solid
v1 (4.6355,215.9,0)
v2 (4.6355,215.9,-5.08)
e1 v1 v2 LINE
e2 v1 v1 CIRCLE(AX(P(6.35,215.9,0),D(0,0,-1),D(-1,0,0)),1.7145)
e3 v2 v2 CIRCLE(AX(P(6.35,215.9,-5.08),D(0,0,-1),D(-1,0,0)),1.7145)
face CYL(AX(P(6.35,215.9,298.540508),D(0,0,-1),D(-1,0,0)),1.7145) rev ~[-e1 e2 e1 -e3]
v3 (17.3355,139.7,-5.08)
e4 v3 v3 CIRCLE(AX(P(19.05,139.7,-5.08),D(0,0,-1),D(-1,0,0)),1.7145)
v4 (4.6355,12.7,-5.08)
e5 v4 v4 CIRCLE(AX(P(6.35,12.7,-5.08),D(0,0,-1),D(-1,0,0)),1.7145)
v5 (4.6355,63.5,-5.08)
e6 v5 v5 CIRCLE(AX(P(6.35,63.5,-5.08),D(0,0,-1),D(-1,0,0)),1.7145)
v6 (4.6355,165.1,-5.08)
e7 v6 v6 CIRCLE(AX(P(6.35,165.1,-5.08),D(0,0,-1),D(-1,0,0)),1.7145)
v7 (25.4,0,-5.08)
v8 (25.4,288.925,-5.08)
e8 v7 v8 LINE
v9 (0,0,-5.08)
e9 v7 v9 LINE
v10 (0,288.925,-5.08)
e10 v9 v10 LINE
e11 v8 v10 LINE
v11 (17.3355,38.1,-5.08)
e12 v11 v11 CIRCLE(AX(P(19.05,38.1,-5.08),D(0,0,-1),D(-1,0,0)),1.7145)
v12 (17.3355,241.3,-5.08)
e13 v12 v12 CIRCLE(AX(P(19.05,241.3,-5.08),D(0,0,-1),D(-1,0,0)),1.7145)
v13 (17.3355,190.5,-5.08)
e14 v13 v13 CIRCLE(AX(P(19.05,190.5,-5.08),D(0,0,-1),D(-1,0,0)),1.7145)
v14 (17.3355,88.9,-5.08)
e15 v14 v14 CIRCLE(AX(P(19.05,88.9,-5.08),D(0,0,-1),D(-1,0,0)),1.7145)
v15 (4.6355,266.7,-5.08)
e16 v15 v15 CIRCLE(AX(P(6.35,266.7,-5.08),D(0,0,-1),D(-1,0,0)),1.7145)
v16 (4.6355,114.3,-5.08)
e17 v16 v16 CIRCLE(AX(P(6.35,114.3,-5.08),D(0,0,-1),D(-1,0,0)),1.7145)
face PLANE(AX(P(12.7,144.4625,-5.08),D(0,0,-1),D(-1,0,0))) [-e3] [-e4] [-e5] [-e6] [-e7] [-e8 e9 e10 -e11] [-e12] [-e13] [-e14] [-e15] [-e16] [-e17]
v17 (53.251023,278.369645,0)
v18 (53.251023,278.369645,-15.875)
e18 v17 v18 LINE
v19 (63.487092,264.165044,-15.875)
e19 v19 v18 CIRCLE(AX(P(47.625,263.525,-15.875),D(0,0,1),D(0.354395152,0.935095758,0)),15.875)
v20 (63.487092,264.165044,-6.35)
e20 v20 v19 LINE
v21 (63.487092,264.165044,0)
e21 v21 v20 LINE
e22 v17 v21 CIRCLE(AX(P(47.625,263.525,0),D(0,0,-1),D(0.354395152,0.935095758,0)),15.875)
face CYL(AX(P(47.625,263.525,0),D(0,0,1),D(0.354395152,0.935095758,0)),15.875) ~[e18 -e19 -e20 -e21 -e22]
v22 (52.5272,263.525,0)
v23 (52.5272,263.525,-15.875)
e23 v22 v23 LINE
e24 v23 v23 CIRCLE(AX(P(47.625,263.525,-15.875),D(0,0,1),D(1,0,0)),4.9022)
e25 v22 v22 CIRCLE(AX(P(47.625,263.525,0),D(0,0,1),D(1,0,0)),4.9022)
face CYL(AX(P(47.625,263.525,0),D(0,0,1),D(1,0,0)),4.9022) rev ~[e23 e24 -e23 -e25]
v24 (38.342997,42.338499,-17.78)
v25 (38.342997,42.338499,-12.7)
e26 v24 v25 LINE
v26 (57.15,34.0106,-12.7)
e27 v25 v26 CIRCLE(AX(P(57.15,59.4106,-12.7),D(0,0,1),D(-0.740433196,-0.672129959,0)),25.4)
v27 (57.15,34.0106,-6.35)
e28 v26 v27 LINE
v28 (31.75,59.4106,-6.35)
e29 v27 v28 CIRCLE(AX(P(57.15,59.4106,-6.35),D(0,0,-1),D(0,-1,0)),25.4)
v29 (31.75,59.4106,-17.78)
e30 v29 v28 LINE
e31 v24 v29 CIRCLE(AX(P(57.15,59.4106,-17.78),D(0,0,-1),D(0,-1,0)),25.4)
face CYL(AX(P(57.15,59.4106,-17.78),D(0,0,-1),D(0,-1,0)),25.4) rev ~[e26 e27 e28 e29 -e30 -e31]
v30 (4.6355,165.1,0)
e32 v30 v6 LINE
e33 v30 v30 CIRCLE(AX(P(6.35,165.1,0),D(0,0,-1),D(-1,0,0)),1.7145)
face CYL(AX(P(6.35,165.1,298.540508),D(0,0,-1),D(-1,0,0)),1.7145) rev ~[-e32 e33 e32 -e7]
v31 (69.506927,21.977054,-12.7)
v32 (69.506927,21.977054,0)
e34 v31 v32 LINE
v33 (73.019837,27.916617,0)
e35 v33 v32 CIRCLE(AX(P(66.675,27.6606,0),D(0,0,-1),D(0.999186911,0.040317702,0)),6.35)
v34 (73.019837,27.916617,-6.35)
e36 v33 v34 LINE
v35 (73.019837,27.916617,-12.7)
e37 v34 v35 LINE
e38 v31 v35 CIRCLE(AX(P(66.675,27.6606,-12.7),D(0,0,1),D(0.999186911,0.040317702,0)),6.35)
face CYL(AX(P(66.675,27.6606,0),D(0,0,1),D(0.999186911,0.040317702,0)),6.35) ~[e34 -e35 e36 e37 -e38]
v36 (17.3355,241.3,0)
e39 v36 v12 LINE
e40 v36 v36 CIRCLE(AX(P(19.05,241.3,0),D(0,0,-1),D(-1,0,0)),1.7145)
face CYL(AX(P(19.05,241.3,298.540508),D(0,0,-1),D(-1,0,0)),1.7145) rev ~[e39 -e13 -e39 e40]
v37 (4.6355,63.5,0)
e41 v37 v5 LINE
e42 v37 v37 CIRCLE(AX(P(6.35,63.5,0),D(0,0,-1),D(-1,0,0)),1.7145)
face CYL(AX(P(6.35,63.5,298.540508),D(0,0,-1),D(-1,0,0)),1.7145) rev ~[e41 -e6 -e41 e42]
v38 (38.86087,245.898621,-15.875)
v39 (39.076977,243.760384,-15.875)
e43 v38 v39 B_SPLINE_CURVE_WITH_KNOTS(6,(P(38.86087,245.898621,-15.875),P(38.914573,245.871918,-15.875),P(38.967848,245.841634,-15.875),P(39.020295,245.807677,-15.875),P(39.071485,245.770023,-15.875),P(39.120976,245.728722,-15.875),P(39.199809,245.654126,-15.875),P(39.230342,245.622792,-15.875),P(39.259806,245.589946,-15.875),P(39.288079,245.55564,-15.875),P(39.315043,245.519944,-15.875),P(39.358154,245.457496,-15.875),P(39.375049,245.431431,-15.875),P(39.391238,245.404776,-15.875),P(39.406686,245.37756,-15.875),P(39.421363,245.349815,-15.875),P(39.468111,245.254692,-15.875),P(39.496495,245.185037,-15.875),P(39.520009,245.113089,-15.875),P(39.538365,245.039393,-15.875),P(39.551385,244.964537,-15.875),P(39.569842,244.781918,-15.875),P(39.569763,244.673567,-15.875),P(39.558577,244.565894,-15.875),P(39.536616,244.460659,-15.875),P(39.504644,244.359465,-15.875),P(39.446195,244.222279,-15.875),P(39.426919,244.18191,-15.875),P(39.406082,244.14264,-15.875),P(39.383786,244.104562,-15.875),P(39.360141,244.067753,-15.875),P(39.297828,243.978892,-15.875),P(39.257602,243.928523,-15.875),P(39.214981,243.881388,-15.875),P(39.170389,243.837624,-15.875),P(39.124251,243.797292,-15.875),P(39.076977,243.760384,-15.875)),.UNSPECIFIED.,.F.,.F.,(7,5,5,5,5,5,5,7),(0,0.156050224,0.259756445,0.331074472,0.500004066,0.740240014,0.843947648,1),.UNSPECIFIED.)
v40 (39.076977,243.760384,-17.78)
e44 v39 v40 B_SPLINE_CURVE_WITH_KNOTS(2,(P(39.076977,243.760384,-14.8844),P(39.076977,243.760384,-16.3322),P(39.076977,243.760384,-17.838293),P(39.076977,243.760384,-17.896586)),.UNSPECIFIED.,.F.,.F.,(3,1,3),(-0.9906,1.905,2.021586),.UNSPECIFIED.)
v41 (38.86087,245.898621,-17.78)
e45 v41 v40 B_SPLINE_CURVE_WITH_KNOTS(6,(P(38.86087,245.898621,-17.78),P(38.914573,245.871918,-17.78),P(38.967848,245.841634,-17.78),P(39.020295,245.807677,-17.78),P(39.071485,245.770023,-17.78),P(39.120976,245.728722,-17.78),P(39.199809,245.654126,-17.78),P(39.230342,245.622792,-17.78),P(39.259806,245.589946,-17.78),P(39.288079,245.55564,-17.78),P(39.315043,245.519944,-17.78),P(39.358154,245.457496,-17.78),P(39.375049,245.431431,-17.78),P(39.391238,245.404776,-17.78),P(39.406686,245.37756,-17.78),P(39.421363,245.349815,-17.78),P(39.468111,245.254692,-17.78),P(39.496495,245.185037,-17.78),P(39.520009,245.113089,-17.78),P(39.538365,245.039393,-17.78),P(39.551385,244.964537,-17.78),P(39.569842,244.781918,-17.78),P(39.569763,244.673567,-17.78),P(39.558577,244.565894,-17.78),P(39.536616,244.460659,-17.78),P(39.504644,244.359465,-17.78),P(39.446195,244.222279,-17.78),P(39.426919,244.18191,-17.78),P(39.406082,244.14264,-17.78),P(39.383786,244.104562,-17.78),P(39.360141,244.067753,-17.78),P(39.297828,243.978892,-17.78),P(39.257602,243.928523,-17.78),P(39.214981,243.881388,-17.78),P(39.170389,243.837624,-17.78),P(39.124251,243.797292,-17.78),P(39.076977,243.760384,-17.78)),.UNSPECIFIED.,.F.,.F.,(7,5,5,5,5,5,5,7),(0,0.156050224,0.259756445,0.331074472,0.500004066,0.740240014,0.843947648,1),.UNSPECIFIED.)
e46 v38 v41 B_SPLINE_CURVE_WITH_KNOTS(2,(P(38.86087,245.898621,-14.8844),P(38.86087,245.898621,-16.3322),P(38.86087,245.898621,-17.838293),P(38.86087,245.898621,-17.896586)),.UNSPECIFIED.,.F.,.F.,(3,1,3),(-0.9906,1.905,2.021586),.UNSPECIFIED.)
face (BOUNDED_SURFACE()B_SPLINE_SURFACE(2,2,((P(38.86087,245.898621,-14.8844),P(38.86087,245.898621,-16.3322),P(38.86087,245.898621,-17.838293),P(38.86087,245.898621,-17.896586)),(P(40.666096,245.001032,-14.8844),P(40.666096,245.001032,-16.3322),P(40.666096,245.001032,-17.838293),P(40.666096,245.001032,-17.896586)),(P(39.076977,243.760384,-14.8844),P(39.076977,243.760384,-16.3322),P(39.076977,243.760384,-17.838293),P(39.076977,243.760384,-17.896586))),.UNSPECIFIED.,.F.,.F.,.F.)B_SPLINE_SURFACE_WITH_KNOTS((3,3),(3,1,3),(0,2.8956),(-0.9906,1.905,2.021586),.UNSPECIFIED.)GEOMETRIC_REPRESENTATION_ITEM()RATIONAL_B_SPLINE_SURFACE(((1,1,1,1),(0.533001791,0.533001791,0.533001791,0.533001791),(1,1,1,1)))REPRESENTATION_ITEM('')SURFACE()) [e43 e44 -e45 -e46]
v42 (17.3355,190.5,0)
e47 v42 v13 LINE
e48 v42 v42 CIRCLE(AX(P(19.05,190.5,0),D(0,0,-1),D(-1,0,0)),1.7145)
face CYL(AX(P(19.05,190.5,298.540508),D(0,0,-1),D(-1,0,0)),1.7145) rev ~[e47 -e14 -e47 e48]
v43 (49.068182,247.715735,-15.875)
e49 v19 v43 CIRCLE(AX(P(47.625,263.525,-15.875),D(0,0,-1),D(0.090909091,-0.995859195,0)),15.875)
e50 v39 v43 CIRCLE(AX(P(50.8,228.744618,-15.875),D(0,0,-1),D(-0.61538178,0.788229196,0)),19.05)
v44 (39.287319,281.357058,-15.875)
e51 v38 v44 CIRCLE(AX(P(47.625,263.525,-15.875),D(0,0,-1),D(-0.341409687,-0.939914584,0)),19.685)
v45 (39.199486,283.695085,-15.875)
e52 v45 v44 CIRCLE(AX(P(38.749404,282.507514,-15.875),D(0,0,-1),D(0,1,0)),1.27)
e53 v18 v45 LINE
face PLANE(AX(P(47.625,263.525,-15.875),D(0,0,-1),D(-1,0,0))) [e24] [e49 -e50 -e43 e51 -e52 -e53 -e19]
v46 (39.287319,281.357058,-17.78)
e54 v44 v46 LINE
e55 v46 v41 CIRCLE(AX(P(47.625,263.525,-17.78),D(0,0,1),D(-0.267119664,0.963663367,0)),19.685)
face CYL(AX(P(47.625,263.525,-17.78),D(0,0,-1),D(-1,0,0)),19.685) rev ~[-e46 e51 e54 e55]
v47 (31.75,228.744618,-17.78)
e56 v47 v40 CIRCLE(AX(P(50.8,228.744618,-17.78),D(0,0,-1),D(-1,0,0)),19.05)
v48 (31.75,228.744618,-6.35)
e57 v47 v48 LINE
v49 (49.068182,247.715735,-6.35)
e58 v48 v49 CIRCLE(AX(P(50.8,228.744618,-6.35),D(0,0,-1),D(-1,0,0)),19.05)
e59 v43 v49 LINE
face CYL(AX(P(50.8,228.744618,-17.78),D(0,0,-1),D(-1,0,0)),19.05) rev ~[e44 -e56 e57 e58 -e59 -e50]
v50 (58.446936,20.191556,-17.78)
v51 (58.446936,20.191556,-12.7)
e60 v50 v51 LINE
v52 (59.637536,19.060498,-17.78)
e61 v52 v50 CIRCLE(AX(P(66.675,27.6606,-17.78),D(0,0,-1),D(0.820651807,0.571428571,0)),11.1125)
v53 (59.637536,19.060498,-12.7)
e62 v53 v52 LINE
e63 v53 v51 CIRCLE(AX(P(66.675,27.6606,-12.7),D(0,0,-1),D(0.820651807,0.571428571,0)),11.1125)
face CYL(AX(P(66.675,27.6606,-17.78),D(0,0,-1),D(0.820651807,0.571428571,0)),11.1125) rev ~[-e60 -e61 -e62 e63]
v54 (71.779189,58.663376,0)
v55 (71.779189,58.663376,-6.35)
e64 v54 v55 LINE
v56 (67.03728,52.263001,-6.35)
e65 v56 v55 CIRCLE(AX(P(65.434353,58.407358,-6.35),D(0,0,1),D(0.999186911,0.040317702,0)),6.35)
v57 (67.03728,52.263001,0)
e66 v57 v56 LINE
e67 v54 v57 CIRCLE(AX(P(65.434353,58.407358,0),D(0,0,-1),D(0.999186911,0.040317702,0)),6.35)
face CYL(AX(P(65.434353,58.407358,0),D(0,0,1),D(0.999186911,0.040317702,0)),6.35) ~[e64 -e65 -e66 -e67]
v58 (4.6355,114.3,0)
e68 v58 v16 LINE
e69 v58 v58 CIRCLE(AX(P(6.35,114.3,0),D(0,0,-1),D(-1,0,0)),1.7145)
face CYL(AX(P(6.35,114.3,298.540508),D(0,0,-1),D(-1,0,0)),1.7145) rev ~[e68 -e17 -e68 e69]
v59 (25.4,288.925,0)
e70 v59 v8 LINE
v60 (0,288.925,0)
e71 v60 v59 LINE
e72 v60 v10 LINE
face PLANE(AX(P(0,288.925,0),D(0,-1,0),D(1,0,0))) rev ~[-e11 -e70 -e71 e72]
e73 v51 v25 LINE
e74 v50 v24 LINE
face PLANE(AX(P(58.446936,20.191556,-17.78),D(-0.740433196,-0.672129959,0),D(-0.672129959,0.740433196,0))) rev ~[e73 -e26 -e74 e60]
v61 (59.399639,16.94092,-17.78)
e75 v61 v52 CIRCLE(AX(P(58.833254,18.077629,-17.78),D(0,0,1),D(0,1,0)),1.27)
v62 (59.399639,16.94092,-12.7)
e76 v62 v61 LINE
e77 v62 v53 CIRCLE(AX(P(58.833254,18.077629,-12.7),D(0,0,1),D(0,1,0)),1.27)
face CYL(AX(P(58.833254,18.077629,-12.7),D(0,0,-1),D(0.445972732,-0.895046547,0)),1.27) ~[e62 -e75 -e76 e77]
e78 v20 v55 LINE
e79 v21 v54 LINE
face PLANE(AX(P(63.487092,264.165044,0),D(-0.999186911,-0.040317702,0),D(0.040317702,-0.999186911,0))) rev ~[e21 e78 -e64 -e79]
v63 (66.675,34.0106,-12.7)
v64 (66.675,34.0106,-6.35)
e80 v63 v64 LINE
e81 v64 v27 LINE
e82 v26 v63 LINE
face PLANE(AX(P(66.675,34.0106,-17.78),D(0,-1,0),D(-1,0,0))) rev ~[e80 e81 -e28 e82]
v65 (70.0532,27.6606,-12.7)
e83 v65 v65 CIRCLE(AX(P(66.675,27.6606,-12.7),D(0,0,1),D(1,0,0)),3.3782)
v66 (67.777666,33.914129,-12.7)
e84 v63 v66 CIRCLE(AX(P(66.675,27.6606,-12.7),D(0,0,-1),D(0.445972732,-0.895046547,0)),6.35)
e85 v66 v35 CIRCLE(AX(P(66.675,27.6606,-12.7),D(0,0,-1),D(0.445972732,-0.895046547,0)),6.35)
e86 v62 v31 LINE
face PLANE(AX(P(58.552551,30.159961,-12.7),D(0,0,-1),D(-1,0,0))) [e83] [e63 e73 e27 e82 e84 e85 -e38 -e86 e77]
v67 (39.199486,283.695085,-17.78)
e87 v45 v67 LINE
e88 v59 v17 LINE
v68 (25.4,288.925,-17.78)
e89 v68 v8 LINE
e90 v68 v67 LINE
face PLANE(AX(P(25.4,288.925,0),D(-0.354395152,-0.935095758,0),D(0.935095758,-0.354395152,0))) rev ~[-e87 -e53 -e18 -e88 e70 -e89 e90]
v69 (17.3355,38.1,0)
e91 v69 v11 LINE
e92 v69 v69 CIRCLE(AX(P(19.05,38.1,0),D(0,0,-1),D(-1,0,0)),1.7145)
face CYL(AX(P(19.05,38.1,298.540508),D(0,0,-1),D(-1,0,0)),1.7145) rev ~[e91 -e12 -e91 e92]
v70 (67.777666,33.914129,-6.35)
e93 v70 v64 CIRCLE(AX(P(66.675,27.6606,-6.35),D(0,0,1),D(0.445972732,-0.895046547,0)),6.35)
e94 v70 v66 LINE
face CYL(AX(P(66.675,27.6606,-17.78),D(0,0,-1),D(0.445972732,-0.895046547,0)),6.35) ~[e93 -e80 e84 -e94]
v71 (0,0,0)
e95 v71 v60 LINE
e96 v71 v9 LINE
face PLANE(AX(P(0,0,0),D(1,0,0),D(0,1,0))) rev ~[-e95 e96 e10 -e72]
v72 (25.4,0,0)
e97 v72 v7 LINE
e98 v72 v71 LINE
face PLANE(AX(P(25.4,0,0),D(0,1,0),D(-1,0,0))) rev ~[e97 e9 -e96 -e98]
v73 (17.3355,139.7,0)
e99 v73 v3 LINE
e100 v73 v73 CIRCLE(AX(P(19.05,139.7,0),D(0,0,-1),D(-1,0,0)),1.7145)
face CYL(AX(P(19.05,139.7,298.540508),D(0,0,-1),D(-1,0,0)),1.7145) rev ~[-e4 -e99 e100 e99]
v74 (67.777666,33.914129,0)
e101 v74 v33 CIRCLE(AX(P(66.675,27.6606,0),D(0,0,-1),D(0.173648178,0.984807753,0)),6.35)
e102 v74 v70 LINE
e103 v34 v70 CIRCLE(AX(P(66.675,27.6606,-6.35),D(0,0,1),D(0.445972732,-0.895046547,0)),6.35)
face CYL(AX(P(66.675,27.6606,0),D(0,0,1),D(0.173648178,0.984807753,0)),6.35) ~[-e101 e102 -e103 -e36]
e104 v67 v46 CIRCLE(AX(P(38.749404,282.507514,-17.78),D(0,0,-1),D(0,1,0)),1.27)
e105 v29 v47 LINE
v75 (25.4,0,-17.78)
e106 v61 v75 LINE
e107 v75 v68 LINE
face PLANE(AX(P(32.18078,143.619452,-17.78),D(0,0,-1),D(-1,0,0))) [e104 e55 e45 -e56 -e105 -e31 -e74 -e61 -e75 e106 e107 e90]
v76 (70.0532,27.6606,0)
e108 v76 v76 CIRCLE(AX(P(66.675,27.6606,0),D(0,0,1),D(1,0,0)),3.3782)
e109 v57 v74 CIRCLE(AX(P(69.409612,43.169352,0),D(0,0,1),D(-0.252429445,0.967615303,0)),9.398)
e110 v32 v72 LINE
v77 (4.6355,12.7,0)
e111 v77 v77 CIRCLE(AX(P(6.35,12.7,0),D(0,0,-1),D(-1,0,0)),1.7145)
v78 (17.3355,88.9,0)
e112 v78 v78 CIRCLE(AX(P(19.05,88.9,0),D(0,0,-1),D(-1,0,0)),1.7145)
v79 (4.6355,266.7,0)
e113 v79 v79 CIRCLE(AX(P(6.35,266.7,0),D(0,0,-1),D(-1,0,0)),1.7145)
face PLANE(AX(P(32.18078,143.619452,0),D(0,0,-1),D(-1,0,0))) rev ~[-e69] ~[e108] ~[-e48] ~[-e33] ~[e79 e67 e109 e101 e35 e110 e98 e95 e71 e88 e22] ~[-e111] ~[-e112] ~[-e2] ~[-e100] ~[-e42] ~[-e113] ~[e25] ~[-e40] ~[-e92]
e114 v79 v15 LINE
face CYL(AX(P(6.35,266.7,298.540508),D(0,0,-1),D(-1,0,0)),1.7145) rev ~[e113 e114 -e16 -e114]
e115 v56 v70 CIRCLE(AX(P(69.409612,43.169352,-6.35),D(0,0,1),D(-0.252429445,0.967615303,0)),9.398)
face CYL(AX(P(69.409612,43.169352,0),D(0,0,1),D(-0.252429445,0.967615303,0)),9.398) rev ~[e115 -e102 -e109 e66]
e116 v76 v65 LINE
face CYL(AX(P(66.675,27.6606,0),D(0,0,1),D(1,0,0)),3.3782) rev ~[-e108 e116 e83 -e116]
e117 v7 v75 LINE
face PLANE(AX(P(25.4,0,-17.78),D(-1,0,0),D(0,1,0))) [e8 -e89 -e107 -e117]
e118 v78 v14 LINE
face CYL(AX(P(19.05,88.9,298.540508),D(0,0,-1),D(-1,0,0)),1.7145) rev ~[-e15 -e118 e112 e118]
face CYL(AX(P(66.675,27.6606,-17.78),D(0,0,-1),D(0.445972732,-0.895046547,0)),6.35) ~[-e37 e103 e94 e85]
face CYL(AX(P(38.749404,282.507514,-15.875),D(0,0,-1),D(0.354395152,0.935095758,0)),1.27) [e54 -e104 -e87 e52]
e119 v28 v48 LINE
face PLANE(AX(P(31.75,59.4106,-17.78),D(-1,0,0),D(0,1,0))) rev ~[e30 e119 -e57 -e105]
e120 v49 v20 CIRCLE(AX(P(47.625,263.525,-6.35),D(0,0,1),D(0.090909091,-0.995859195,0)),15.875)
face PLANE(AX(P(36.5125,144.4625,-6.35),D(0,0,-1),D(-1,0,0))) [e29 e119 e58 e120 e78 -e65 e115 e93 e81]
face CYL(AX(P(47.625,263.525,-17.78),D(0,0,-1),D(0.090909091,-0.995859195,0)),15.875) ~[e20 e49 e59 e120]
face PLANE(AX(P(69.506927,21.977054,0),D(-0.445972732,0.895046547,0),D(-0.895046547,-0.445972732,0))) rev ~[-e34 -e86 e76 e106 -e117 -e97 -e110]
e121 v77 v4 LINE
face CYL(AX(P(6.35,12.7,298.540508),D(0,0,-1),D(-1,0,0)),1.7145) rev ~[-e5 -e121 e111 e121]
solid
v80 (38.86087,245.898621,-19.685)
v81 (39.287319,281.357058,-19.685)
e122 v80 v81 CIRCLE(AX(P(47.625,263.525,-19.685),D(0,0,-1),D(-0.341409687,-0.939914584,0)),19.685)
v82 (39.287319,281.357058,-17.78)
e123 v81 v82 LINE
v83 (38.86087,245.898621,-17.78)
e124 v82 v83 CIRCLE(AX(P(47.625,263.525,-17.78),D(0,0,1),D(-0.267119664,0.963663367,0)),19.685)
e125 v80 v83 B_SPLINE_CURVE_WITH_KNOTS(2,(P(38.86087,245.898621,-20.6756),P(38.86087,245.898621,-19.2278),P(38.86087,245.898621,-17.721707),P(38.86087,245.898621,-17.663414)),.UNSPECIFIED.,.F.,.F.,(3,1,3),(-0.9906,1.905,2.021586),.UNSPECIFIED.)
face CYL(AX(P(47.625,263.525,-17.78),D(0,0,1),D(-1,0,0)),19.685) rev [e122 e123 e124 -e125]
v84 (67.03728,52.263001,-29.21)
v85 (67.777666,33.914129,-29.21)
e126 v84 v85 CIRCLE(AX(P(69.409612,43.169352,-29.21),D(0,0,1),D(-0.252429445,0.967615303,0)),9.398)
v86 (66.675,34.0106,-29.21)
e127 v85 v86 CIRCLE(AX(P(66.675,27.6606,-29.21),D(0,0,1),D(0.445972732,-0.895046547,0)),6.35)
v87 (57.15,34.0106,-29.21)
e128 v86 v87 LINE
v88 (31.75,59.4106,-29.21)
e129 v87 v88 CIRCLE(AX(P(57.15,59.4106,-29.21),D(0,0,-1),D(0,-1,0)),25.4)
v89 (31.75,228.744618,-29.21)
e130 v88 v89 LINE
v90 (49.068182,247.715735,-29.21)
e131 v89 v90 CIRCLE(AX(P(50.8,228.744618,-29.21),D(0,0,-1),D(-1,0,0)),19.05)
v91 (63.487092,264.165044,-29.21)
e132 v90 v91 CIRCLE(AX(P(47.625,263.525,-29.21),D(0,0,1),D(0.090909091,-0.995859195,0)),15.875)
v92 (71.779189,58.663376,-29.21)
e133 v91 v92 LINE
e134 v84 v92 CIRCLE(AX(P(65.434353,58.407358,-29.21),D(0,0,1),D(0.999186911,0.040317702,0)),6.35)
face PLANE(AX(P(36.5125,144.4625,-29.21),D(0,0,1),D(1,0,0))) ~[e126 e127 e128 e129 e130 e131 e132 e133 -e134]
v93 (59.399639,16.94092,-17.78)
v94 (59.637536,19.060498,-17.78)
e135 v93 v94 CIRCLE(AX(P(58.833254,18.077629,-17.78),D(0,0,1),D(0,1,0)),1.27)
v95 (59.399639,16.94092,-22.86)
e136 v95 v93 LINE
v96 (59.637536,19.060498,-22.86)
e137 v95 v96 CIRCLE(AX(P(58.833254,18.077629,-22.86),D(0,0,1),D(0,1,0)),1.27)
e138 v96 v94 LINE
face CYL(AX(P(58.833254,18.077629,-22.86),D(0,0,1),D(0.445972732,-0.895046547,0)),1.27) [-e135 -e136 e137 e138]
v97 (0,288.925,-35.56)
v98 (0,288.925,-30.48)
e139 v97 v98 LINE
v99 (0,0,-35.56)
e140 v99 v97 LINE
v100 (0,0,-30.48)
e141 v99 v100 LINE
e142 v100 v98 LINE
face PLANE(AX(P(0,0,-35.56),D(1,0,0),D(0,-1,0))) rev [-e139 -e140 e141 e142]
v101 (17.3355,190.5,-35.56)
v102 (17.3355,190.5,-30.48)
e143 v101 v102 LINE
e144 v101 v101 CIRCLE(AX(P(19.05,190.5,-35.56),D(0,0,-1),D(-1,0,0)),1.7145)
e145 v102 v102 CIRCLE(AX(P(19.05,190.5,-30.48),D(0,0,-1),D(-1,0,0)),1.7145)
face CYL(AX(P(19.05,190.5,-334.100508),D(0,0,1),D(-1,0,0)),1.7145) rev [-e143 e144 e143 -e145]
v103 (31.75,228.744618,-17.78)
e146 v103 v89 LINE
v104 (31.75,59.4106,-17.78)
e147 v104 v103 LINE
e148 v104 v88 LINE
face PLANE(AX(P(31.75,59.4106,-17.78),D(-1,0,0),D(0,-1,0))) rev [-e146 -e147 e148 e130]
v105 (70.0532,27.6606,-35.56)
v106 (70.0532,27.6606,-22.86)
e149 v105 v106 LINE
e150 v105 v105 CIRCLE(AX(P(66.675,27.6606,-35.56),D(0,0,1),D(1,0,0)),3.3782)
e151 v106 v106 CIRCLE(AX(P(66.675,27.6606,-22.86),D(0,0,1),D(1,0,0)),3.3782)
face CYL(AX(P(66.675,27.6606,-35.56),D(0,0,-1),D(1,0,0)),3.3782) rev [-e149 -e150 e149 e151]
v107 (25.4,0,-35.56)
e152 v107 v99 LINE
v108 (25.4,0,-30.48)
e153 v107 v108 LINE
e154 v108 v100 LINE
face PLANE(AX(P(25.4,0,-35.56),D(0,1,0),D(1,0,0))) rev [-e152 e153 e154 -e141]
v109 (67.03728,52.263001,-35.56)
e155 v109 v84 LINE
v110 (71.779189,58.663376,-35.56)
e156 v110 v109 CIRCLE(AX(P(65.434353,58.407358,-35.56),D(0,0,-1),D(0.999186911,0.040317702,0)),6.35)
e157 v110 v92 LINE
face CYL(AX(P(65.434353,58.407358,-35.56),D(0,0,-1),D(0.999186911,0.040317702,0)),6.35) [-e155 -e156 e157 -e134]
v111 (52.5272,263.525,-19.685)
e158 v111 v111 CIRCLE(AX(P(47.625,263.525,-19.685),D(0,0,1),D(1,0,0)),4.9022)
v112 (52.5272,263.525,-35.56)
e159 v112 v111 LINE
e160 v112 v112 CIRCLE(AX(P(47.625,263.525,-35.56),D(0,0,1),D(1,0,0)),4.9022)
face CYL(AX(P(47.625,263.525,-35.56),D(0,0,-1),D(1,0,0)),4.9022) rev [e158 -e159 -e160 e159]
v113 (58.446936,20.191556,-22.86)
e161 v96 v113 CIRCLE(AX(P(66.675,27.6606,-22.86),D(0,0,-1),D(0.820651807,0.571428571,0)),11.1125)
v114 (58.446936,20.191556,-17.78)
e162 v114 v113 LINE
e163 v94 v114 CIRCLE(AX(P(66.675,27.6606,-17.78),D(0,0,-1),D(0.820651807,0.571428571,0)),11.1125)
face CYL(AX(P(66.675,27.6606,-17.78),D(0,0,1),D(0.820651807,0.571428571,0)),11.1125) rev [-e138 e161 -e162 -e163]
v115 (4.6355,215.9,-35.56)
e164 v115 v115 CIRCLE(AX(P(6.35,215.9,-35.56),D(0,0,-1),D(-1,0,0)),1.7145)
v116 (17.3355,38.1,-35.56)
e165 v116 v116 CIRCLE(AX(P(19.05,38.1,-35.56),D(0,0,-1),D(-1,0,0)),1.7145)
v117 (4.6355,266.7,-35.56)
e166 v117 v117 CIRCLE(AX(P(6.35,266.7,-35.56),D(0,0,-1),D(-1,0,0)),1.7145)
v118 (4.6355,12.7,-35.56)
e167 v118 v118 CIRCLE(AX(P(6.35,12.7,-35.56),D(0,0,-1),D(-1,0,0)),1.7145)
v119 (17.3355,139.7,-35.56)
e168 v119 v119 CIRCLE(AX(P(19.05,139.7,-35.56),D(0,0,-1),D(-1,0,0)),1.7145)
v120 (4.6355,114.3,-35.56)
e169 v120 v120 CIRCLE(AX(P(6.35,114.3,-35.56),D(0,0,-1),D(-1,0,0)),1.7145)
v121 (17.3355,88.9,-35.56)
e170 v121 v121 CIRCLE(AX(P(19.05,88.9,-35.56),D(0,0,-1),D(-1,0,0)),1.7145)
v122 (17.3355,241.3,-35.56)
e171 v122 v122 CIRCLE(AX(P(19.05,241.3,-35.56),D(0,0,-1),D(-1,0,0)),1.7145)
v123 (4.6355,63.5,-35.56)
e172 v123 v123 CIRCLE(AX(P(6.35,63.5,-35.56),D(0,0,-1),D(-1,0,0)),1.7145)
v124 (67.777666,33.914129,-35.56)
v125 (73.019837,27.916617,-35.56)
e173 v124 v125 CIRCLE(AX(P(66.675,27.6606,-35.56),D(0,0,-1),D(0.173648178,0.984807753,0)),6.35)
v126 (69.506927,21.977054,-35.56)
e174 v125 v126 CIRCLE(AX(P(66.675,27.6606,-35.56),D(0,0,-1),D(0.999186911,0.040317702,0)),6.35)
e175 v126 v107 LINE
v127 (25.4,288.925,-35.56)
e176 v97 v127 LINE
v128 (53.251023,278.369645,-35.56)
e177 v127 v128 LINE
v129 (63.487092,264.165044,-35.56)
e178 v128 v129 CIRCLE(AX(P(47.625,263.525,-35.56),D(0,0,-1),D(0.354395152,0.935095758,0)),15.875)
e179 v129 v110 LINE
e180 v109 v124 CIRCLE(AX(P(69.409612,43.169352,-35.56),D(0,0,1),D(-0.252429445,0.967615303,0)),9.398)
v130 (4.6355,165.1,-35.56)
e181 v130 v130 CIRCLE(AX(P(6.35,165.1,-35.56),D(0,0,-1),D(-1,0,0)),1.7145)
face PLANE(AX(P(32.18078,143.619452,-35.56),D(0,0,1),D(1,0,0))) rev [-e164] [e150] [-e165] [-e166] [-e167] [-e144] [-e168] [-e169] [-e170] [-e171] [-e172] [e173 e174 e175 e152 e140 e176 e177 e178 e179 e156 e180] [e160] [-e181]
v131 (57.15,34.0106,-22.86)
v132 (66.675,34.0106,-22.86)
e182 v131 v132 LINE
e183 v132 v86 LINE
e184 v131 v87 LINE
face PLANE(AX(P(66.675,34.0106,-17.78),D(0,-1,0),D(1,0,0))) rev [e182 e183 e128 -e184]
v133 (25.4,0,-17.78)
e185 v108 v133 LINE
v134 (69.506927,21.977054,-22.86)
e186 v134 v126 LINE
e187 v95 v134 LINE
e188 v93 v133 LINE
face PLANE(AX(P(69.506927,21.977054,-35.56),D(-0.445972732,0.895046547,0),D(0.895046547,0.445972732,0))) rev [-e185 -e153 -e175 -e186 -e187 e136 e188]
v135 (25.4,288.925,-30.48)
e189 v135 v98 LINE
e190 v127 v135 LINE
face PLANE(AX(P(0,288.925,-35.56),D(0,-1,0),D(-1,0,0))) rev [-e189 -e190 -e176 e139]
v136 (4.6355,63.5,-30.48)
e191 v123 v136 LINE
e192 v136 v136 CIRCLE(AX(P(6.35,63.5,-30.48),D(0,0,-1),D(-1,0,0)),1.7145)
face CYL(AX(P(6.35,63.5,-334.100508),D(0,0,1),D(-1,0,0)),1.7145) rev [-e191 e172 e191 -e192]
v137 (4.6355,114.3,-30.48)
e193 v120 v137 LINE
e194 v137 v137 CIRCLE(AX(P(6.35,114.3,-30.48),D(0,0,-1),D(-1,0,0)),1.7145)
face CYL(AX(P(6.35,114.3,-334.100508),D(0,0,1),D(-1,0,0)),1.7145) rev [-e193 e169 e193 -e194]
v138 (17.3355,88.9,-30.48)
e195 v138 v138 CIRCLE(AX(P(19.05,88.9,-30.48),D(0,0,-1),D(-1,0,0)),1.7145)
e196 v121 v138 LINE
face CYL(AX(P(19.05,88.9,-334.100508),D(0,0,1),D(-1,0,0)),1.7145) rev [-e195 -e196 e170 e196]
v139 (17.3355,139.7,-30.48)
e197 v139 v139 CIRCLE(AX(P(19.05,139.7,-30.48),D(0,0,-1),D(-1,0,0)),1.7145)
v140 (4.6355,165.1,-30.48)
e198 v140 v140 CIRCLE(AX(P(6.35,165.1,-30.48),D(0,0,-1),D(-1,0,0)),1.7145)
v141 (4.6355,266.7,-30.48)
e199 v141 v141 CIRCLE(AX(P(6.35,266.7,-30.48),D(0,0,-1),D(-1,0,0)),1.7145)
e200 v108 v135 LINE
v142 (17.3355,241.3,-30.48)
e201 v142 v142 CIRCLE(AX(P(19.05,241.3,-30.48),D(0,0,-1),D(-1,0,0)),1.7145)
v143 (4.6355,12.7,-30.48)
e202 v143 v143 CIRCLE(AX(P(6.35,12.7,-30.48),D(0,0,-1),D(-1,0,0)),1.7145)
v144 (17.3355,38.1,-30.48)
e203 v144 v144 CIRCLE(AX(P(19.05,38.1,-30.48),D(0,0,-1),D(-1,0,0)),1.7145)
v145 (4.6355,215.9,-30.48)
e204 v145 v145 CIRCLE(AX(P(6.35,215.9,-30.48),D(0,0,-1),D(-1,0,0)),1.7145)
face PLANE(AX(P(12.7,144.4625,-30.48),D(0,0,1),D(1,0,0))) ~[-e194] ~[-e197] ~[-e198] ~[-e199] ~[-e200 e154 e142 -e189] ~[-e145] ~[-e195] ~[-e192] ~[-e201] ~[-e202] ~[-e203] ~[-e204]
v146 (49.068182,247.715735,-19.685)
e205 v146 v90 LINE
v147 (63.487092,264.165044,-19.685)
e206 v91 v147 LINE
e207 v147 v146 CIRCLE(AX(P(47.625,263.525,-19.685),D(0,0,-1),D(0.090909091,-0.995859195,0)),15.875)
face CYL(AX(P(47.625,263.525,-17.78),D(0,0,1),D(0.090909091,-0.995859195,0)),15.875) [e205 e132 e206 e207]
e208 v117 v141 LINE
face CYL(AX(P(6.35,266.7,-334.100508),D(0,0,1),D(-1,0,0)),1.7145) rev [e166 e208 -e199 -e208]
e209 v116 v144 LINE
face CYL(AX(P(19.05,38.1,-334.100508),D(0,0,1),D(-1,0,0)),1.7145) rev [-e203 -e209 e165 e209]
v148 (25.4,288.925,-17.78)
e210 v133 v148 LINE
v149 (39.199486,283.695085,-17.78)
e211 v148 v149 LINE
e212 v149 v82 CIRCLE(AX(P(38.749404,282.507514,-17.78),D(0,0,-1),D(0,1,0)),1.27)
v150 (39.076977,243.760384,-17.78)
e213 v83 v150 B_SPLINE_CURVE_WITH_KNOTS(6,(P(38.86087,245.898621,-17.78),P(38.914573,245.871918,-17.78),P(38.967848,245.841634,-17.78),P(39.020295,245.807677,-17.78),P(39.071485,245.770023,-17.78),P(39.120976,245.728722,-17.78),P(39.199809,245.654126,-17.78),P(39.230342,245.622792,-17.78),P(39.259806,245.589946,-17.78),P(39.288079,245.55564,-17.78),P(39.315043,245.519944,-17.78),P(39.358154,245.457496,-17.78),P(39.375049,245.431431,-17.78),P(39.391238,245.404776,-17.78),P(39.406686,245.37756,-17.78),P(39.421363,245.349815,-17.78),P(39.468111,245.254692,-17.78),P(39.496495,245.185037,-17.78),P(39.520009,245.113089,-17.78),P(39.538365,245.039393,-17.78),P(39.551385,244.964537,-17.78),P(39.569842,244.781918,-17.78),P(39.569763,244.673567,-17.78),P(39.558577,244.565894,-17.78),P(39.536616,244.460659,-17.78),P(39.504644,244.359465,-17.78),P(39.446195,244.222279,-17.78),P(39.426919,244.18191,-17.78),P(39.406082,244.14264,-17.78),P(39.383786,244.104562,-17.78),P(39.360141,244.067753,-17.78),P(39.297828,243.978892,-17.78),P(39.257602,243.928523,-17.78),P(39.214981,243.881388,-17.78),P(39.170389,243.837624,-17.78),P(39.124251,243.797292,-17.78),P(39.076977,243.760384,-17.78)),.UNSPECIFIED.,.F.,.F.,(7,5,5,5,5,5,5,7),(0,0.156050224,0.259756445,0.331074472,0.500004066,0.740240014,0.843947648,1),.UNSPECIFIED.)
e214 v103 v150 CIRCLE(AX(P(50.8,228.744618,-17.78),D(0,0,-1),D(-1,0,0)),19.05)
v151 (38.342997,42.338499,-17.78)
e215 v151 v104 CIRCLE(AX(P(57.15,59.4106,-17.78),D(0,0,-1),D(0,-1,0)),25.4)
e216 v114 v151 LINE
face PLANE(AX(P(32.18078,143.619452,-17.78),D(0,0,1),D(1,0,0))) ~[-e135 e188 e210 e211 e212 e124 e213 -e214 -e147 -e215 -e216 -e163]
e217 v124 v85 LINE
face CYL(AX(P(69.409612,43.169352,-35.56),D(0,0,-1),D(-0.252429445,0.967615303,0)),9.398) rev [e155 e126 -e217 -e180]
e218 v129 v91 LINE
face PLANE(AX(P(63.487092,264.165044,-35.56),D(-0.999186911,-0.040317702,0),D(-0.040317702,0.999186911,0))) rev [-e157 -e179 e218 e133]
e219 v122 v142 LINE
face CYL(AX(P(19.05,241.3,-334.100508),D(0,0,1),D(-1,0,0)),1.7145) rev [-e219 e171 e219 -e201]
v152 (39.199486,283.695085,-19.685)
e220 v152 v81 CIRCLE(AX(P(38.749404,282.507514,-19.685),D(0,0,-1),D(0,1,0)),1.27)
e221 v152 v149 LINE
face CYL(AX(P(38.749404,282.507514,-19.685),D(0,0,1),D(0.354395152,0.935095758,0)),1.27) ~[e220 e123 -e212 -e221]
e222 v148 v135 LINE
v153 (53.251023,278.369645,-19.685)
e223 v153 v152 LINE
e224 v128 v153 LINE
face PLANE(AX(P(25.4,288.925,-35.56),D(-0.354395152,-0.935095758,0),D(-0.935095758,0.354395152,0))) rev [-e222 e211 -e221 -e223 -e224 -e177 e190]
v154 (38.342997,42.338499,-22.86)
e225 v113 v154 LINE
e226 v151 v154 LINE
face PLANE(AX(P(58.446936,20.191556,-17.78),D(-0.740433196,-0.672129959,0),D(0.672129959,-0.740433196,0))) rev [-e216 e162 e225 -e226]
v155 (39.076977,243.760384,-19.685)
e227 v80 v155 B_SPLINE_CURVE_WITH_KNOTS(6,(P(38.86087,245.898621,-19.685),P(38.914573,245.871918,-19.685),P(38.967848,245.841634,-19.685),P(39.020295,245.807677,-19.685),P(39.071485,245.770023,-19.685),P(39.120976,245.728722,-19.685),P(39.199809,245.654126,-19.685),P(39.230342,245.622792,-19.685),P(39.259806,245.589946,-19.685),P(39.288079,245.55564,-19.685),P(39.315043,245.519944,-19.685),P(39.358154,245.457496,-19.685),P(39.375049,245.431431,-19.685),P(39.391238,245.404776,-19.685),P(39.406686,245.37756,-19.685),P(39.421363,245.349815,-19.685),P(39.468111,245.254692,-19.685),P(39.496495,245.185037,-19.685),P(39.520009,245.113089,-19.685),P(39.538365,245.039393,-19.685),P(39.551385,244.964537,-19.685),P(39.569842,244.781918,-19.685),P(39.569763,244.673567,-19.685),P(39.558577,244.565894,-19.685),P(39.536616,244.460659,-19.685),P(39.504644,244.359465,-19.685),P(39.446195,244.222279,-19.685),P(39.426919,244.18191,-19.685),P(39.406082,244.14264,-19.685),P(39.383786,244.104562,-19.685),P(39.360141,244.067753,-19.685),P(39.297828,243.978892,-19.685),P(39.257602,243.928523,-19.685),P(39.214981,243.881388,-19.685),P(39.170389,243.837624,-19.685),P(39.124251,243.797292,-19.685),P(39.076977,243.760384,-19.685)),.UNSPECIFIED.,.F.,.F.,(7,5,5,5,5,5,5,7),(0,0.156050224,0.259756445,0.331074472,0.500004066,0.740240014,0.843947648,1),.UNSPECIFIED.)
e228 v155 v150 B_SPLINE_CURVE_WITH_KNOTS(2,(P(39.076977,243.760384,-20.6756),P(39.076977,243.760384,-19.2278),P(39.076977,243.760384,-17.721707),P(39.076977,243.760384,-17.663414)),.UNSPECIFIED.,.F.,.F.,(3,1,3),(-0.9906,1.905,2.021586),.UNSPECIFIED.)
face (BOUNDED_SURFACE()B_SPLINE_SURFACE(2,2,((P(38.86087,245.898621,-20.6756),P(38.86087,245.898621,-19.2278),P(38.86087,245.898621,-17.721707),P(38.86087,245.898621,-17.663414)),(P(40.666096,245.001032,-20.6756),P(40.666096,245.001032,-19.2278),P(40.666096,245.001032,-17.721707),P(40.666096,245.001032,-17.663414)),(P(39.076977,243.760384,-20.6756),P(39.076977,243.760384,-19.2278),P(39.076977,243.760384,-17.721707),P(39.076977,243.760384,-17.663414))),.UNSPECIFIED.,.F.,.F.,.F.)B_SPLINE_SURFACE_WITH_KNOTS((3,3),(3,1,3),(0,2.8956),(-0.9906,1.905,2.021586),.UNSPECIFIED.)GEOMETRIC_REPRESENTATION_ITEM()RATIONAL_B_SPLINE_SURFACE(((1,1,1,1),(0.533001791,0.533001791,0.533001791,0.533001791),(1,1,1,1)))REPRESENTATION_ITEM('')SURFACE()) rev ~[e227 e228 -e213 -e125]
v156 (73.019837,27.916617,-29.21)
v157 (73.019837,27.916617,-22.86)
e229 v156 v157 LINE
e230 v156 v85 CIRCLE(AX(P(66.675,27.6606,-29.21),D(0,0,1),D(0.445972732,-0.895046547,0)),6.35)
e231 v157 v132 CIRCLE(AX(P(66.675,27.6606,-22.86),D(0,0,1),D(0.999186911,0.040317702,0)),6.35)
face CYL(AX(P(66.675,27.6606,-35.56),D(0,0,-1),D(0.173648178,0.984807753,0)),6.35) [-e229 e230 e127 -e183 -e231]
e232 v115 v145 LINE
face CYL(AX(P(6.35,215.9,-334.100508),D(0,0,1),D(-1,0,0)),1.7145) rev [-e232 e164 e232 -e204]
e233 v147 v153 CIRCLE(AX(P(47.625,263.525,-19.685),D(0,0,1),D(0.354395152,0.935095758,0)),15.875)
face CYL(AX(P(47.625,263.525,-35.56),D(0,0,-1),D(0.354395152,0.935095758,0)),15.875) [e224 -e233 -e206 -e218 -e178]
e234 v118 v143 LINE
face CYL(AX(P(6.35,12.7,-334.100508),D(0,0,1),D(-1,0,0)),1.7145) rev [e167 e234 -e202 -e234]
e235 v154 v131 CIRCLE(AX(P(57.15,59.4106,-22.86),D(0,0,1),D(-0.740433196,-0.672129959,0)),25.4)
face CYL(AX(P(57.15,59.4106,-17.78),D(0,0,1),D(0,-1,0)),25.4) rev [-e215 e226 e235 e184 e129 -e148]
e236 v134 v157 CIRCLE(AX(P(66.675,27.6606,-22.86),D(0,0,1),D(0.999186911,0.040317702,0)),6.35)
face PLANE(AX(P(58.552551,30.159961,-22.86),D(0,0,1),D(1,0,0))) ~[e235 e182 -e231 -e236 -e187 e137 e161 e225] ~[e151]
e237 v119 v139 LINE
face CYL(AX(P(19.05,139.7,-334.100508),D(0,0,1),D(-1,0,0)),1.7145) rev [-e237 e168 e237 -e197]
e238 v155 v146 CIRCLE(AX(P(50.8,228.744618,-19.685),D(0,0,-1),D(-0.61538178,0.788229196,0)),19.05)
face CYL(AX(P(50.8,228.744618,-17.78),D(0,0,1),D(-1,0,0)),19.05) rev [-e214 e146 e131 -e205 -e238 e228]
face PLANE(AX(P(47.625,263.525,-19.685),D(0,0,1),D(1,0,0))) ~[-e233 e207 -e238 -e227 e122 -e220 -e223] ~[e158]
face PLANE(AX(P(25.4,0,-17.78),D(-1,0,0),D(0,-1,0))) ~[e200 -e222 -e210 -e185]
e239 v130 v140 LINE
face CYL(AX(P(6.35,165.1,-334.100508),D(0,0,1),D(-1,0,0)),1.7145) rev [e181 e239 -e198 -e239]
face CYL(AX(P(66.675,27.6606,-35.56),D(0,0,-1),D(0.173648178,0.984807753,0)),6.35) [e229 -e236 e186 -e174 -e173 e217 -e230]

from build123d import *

# Parameters (mm, degrees)
SKETCH1_R                 = 3.3782
SKETCH1_R_2               = 4.9022
BOSS_EXTRUDE1_DEPTH       = 17.78
SKETCH2_W                 = 25.4
SKETCH2_H                 = 288.925
CUT_EXTRUDE1_DEPTH        = 12.7
SKETCH3_OUTSIDE_W         = 134.733
SKETCH3_OUTSIDE_H         = 350.633
CUT_EXTRUDE2_DEPTH        = 11.43
CUT_EXTRUDE3_DEPTH        = 5.08
SKETCH5_R                 = 19.685
CUT_EXTRUDE4_DEPTH        = 1.905
FILLET1_R                 = 1.27
F_1_8_0_135_DOWEL_HOLE1_D = 3.429
CUT_EXTRUDE6_DEPTH        = 18.7800001


with BuildPart() as part:
    # Sketch1 → Boss-Extrude1 (new body)
    with BuildSketch(Plane.XY):
        with BuildLine():
            Line((0, 0), (0, 288.925))
            Line((0, 288.925), (25.4, 288.925))
            Line((25.4, 288.925), (53.251023035, 278.369645156))
            ThreePointArc((53.251023035, 278.369645156), (60.504342029, 272.806065344), (63.48709221, 264.165043523))
            Line((63.48709221, 264.165043523), (73.019836884, 27.916617409))
            ThreePointArc((73.019836884, 27.916617409), (72.140606121, 24.428008203), (69.506926851, 21.977054424))
            Line((69.506926851, 21.977054424), (25.4, 0))
            Line((25.4, 0), (0, 0))
        make_face()
        with Locations((66.675, 27.6606)):
            Circle(SKETCH1_R, mode=Mode.SUBTRACT)
        with Locations((47.625, 263.525)):
            Circle(SKETCH1_R_2, mode=Mode.SUBTRACT)
    extrude(amount=-BOSS_EXTRUDE1_DEPTH)

    # Sketch2 → Cut-Extrude1 (cut)
    with BuildSketch(Plane(origin=(0, 0, -17.78), x_dir=(-1, 0, 0), z_dir=(0, 0, -1))):
        with Locations((-12.7, 144.4625)):
            Rectangle(SKETCH2_W, SKETCH2_H)
    extrude(amount=-CUT_EXTRUDE1_DEPTH, mode=Mode.SUBTRACT)

    # Sketch3 outside → Cut-Extrude2 (cut)
    with BuildSketch(Plane(origin=(0, 0, -17.78), x_dir=(-1, 0, 0), z_dir=(0, 0, -1))):
        with Locations((-36.5125, 144.4625)):
            Rectangle(SKETCH3_OUTSIDE_W, SKETCH3_OUTSIDE_H)
        with BuildLine():
            Line((-53.251023035, 278.369645156), (-25.4, 288.925))
            Line((-25.4, 288.925), (-25.4, 0))
            Line((-25.4, 0), (-69.506926851, 21.977054424))
            ThreePointArc((-69.506926851, 21.977054424), (-72.856141254, 29.115245248), (-66.675, 34.0106))
            Line((-66.675, 34.0106), (-57.15, 34.0106))
            ThreePointArc((-57.15, 34.0106), (-39.189487758, 41.450087758), (-31.75, 59.4106))
            Line((-31.75, 59.4106), (-31.75, 228.744617598))
            ThreePointArc((-31.75, 228.744617598), (-36.730642581, 241.588124978), (-49.068181818, 247.715735272))
            ThreePointArc((-49.068181818, 247.715735272), (-63.354239082, 261.378686208), (-53.251023035, 278.369645156))
        make_face(mode=Mode.SUBTRACT)
    extrude(amount=-CUT_EXTRUDE2_DEPTH, mode=Mode.SUBTRACT)

    # Sketch4 → Cut-Extrude3 (cut)
    with BuildSketch(Plane(origin=(0, 0, -17.78), x_dir=(-1, 0, 0), z_dir=(0, 0, -1))):
        with BuildLine():
            Line((-58.446936105, 20.191555832), (-38.342996812, 42.338499043))
            ThreePointArc((-38.342996812, 42.338499043), (-46.865821965, 36.185706413), (-57.15, 34.0106))
            Line((-57.15, 34.0106), (-75.794493201, 34.0106))
            ThreePointArc((-75.794493201, 34.0106), (-73.598883086, 18.968793556), (-58.446936105, 20.191555832))
        make_face()
    extrude(amount=-CUT_EXTRUDE3_DEPTH, mode=Mode.SUBTRACT)

    # Sketch5 → Cut-Extrude4 (cut)
    with BuildSketch(Plane(origin=(0, 0, -17.78), x_dir=(-1, 0, 0), z_dir=(0, 0, -1))):
        with Locations((-47.625, 263.525)):
            Circle(SKETCH5_R)
    extrude(amount=-CUT_EXTRUDE4_DEPTH, mode=Mode.SUBTRACT)

    # Fillet1
    fillet1_edges = [part.edges().sort_by_distance(p)[0] for p in [
        (40.904350306, 245.022781412, -16.8275),
        (42.366749421, 282.494713383, -16.8275),
        (61.344555947, 17.910009123, -15.24),
    ]]
    fillet(fillet1_edges, radius=FILLET1_R)

    # 1/8 (0.135) Dowel Hole1 (through all)
    with Locations(Plane.XY):
        with Locations((6.35, 12.7), (19.05, 38.1), (6.35, 63.5), (19.05, 88.9), (6.35, 114.3), (19.05, 139.7), (6.35, 165.1), (19.05, 190.5), (6.35, 215.9), (19.05, 241.3), (6.35, 266.7), (19.05, 292.1)):
            Hole(F_1_8_0_135_DOWEL_HOLE1_D / 2)

    # Sketch10 → Cut-Extrude6 (cut, through all)
    with BuildSketch(Plane.XY):
        with BuildLine():
            Line((73.019836884, 27.916617409), (71.779189481, 58.6633757))
            ThreePointArc((71.779189481, 58.6633757), (70.536600759, 54.627204366), (67.037279575, 52.263001115))
            ThreePointArc((67.037279575, 52.263001115), (60.019252913, 42.790446729), (67.777665928, 33.914129232))
            ThreePointArc((67.777665928, 33.914129232), (71.456094179, 31.839551836), (73.019836884, 27.916617409))
        make_face()
    extrude(amount=-CUT_EXTRUDE6_DEPTH, mode=Mode.SUBTRACT)


with BuildPart() as body_2:
    # Mirror1: mirrored copy
    add(part.part.mirror(Plane(origin=(66.675, 27.6606, -17.78), x_dir=(1, 0, 0), z_dir=(0, 0, 1))))


solid = Compound([part.part, body_2.part])
